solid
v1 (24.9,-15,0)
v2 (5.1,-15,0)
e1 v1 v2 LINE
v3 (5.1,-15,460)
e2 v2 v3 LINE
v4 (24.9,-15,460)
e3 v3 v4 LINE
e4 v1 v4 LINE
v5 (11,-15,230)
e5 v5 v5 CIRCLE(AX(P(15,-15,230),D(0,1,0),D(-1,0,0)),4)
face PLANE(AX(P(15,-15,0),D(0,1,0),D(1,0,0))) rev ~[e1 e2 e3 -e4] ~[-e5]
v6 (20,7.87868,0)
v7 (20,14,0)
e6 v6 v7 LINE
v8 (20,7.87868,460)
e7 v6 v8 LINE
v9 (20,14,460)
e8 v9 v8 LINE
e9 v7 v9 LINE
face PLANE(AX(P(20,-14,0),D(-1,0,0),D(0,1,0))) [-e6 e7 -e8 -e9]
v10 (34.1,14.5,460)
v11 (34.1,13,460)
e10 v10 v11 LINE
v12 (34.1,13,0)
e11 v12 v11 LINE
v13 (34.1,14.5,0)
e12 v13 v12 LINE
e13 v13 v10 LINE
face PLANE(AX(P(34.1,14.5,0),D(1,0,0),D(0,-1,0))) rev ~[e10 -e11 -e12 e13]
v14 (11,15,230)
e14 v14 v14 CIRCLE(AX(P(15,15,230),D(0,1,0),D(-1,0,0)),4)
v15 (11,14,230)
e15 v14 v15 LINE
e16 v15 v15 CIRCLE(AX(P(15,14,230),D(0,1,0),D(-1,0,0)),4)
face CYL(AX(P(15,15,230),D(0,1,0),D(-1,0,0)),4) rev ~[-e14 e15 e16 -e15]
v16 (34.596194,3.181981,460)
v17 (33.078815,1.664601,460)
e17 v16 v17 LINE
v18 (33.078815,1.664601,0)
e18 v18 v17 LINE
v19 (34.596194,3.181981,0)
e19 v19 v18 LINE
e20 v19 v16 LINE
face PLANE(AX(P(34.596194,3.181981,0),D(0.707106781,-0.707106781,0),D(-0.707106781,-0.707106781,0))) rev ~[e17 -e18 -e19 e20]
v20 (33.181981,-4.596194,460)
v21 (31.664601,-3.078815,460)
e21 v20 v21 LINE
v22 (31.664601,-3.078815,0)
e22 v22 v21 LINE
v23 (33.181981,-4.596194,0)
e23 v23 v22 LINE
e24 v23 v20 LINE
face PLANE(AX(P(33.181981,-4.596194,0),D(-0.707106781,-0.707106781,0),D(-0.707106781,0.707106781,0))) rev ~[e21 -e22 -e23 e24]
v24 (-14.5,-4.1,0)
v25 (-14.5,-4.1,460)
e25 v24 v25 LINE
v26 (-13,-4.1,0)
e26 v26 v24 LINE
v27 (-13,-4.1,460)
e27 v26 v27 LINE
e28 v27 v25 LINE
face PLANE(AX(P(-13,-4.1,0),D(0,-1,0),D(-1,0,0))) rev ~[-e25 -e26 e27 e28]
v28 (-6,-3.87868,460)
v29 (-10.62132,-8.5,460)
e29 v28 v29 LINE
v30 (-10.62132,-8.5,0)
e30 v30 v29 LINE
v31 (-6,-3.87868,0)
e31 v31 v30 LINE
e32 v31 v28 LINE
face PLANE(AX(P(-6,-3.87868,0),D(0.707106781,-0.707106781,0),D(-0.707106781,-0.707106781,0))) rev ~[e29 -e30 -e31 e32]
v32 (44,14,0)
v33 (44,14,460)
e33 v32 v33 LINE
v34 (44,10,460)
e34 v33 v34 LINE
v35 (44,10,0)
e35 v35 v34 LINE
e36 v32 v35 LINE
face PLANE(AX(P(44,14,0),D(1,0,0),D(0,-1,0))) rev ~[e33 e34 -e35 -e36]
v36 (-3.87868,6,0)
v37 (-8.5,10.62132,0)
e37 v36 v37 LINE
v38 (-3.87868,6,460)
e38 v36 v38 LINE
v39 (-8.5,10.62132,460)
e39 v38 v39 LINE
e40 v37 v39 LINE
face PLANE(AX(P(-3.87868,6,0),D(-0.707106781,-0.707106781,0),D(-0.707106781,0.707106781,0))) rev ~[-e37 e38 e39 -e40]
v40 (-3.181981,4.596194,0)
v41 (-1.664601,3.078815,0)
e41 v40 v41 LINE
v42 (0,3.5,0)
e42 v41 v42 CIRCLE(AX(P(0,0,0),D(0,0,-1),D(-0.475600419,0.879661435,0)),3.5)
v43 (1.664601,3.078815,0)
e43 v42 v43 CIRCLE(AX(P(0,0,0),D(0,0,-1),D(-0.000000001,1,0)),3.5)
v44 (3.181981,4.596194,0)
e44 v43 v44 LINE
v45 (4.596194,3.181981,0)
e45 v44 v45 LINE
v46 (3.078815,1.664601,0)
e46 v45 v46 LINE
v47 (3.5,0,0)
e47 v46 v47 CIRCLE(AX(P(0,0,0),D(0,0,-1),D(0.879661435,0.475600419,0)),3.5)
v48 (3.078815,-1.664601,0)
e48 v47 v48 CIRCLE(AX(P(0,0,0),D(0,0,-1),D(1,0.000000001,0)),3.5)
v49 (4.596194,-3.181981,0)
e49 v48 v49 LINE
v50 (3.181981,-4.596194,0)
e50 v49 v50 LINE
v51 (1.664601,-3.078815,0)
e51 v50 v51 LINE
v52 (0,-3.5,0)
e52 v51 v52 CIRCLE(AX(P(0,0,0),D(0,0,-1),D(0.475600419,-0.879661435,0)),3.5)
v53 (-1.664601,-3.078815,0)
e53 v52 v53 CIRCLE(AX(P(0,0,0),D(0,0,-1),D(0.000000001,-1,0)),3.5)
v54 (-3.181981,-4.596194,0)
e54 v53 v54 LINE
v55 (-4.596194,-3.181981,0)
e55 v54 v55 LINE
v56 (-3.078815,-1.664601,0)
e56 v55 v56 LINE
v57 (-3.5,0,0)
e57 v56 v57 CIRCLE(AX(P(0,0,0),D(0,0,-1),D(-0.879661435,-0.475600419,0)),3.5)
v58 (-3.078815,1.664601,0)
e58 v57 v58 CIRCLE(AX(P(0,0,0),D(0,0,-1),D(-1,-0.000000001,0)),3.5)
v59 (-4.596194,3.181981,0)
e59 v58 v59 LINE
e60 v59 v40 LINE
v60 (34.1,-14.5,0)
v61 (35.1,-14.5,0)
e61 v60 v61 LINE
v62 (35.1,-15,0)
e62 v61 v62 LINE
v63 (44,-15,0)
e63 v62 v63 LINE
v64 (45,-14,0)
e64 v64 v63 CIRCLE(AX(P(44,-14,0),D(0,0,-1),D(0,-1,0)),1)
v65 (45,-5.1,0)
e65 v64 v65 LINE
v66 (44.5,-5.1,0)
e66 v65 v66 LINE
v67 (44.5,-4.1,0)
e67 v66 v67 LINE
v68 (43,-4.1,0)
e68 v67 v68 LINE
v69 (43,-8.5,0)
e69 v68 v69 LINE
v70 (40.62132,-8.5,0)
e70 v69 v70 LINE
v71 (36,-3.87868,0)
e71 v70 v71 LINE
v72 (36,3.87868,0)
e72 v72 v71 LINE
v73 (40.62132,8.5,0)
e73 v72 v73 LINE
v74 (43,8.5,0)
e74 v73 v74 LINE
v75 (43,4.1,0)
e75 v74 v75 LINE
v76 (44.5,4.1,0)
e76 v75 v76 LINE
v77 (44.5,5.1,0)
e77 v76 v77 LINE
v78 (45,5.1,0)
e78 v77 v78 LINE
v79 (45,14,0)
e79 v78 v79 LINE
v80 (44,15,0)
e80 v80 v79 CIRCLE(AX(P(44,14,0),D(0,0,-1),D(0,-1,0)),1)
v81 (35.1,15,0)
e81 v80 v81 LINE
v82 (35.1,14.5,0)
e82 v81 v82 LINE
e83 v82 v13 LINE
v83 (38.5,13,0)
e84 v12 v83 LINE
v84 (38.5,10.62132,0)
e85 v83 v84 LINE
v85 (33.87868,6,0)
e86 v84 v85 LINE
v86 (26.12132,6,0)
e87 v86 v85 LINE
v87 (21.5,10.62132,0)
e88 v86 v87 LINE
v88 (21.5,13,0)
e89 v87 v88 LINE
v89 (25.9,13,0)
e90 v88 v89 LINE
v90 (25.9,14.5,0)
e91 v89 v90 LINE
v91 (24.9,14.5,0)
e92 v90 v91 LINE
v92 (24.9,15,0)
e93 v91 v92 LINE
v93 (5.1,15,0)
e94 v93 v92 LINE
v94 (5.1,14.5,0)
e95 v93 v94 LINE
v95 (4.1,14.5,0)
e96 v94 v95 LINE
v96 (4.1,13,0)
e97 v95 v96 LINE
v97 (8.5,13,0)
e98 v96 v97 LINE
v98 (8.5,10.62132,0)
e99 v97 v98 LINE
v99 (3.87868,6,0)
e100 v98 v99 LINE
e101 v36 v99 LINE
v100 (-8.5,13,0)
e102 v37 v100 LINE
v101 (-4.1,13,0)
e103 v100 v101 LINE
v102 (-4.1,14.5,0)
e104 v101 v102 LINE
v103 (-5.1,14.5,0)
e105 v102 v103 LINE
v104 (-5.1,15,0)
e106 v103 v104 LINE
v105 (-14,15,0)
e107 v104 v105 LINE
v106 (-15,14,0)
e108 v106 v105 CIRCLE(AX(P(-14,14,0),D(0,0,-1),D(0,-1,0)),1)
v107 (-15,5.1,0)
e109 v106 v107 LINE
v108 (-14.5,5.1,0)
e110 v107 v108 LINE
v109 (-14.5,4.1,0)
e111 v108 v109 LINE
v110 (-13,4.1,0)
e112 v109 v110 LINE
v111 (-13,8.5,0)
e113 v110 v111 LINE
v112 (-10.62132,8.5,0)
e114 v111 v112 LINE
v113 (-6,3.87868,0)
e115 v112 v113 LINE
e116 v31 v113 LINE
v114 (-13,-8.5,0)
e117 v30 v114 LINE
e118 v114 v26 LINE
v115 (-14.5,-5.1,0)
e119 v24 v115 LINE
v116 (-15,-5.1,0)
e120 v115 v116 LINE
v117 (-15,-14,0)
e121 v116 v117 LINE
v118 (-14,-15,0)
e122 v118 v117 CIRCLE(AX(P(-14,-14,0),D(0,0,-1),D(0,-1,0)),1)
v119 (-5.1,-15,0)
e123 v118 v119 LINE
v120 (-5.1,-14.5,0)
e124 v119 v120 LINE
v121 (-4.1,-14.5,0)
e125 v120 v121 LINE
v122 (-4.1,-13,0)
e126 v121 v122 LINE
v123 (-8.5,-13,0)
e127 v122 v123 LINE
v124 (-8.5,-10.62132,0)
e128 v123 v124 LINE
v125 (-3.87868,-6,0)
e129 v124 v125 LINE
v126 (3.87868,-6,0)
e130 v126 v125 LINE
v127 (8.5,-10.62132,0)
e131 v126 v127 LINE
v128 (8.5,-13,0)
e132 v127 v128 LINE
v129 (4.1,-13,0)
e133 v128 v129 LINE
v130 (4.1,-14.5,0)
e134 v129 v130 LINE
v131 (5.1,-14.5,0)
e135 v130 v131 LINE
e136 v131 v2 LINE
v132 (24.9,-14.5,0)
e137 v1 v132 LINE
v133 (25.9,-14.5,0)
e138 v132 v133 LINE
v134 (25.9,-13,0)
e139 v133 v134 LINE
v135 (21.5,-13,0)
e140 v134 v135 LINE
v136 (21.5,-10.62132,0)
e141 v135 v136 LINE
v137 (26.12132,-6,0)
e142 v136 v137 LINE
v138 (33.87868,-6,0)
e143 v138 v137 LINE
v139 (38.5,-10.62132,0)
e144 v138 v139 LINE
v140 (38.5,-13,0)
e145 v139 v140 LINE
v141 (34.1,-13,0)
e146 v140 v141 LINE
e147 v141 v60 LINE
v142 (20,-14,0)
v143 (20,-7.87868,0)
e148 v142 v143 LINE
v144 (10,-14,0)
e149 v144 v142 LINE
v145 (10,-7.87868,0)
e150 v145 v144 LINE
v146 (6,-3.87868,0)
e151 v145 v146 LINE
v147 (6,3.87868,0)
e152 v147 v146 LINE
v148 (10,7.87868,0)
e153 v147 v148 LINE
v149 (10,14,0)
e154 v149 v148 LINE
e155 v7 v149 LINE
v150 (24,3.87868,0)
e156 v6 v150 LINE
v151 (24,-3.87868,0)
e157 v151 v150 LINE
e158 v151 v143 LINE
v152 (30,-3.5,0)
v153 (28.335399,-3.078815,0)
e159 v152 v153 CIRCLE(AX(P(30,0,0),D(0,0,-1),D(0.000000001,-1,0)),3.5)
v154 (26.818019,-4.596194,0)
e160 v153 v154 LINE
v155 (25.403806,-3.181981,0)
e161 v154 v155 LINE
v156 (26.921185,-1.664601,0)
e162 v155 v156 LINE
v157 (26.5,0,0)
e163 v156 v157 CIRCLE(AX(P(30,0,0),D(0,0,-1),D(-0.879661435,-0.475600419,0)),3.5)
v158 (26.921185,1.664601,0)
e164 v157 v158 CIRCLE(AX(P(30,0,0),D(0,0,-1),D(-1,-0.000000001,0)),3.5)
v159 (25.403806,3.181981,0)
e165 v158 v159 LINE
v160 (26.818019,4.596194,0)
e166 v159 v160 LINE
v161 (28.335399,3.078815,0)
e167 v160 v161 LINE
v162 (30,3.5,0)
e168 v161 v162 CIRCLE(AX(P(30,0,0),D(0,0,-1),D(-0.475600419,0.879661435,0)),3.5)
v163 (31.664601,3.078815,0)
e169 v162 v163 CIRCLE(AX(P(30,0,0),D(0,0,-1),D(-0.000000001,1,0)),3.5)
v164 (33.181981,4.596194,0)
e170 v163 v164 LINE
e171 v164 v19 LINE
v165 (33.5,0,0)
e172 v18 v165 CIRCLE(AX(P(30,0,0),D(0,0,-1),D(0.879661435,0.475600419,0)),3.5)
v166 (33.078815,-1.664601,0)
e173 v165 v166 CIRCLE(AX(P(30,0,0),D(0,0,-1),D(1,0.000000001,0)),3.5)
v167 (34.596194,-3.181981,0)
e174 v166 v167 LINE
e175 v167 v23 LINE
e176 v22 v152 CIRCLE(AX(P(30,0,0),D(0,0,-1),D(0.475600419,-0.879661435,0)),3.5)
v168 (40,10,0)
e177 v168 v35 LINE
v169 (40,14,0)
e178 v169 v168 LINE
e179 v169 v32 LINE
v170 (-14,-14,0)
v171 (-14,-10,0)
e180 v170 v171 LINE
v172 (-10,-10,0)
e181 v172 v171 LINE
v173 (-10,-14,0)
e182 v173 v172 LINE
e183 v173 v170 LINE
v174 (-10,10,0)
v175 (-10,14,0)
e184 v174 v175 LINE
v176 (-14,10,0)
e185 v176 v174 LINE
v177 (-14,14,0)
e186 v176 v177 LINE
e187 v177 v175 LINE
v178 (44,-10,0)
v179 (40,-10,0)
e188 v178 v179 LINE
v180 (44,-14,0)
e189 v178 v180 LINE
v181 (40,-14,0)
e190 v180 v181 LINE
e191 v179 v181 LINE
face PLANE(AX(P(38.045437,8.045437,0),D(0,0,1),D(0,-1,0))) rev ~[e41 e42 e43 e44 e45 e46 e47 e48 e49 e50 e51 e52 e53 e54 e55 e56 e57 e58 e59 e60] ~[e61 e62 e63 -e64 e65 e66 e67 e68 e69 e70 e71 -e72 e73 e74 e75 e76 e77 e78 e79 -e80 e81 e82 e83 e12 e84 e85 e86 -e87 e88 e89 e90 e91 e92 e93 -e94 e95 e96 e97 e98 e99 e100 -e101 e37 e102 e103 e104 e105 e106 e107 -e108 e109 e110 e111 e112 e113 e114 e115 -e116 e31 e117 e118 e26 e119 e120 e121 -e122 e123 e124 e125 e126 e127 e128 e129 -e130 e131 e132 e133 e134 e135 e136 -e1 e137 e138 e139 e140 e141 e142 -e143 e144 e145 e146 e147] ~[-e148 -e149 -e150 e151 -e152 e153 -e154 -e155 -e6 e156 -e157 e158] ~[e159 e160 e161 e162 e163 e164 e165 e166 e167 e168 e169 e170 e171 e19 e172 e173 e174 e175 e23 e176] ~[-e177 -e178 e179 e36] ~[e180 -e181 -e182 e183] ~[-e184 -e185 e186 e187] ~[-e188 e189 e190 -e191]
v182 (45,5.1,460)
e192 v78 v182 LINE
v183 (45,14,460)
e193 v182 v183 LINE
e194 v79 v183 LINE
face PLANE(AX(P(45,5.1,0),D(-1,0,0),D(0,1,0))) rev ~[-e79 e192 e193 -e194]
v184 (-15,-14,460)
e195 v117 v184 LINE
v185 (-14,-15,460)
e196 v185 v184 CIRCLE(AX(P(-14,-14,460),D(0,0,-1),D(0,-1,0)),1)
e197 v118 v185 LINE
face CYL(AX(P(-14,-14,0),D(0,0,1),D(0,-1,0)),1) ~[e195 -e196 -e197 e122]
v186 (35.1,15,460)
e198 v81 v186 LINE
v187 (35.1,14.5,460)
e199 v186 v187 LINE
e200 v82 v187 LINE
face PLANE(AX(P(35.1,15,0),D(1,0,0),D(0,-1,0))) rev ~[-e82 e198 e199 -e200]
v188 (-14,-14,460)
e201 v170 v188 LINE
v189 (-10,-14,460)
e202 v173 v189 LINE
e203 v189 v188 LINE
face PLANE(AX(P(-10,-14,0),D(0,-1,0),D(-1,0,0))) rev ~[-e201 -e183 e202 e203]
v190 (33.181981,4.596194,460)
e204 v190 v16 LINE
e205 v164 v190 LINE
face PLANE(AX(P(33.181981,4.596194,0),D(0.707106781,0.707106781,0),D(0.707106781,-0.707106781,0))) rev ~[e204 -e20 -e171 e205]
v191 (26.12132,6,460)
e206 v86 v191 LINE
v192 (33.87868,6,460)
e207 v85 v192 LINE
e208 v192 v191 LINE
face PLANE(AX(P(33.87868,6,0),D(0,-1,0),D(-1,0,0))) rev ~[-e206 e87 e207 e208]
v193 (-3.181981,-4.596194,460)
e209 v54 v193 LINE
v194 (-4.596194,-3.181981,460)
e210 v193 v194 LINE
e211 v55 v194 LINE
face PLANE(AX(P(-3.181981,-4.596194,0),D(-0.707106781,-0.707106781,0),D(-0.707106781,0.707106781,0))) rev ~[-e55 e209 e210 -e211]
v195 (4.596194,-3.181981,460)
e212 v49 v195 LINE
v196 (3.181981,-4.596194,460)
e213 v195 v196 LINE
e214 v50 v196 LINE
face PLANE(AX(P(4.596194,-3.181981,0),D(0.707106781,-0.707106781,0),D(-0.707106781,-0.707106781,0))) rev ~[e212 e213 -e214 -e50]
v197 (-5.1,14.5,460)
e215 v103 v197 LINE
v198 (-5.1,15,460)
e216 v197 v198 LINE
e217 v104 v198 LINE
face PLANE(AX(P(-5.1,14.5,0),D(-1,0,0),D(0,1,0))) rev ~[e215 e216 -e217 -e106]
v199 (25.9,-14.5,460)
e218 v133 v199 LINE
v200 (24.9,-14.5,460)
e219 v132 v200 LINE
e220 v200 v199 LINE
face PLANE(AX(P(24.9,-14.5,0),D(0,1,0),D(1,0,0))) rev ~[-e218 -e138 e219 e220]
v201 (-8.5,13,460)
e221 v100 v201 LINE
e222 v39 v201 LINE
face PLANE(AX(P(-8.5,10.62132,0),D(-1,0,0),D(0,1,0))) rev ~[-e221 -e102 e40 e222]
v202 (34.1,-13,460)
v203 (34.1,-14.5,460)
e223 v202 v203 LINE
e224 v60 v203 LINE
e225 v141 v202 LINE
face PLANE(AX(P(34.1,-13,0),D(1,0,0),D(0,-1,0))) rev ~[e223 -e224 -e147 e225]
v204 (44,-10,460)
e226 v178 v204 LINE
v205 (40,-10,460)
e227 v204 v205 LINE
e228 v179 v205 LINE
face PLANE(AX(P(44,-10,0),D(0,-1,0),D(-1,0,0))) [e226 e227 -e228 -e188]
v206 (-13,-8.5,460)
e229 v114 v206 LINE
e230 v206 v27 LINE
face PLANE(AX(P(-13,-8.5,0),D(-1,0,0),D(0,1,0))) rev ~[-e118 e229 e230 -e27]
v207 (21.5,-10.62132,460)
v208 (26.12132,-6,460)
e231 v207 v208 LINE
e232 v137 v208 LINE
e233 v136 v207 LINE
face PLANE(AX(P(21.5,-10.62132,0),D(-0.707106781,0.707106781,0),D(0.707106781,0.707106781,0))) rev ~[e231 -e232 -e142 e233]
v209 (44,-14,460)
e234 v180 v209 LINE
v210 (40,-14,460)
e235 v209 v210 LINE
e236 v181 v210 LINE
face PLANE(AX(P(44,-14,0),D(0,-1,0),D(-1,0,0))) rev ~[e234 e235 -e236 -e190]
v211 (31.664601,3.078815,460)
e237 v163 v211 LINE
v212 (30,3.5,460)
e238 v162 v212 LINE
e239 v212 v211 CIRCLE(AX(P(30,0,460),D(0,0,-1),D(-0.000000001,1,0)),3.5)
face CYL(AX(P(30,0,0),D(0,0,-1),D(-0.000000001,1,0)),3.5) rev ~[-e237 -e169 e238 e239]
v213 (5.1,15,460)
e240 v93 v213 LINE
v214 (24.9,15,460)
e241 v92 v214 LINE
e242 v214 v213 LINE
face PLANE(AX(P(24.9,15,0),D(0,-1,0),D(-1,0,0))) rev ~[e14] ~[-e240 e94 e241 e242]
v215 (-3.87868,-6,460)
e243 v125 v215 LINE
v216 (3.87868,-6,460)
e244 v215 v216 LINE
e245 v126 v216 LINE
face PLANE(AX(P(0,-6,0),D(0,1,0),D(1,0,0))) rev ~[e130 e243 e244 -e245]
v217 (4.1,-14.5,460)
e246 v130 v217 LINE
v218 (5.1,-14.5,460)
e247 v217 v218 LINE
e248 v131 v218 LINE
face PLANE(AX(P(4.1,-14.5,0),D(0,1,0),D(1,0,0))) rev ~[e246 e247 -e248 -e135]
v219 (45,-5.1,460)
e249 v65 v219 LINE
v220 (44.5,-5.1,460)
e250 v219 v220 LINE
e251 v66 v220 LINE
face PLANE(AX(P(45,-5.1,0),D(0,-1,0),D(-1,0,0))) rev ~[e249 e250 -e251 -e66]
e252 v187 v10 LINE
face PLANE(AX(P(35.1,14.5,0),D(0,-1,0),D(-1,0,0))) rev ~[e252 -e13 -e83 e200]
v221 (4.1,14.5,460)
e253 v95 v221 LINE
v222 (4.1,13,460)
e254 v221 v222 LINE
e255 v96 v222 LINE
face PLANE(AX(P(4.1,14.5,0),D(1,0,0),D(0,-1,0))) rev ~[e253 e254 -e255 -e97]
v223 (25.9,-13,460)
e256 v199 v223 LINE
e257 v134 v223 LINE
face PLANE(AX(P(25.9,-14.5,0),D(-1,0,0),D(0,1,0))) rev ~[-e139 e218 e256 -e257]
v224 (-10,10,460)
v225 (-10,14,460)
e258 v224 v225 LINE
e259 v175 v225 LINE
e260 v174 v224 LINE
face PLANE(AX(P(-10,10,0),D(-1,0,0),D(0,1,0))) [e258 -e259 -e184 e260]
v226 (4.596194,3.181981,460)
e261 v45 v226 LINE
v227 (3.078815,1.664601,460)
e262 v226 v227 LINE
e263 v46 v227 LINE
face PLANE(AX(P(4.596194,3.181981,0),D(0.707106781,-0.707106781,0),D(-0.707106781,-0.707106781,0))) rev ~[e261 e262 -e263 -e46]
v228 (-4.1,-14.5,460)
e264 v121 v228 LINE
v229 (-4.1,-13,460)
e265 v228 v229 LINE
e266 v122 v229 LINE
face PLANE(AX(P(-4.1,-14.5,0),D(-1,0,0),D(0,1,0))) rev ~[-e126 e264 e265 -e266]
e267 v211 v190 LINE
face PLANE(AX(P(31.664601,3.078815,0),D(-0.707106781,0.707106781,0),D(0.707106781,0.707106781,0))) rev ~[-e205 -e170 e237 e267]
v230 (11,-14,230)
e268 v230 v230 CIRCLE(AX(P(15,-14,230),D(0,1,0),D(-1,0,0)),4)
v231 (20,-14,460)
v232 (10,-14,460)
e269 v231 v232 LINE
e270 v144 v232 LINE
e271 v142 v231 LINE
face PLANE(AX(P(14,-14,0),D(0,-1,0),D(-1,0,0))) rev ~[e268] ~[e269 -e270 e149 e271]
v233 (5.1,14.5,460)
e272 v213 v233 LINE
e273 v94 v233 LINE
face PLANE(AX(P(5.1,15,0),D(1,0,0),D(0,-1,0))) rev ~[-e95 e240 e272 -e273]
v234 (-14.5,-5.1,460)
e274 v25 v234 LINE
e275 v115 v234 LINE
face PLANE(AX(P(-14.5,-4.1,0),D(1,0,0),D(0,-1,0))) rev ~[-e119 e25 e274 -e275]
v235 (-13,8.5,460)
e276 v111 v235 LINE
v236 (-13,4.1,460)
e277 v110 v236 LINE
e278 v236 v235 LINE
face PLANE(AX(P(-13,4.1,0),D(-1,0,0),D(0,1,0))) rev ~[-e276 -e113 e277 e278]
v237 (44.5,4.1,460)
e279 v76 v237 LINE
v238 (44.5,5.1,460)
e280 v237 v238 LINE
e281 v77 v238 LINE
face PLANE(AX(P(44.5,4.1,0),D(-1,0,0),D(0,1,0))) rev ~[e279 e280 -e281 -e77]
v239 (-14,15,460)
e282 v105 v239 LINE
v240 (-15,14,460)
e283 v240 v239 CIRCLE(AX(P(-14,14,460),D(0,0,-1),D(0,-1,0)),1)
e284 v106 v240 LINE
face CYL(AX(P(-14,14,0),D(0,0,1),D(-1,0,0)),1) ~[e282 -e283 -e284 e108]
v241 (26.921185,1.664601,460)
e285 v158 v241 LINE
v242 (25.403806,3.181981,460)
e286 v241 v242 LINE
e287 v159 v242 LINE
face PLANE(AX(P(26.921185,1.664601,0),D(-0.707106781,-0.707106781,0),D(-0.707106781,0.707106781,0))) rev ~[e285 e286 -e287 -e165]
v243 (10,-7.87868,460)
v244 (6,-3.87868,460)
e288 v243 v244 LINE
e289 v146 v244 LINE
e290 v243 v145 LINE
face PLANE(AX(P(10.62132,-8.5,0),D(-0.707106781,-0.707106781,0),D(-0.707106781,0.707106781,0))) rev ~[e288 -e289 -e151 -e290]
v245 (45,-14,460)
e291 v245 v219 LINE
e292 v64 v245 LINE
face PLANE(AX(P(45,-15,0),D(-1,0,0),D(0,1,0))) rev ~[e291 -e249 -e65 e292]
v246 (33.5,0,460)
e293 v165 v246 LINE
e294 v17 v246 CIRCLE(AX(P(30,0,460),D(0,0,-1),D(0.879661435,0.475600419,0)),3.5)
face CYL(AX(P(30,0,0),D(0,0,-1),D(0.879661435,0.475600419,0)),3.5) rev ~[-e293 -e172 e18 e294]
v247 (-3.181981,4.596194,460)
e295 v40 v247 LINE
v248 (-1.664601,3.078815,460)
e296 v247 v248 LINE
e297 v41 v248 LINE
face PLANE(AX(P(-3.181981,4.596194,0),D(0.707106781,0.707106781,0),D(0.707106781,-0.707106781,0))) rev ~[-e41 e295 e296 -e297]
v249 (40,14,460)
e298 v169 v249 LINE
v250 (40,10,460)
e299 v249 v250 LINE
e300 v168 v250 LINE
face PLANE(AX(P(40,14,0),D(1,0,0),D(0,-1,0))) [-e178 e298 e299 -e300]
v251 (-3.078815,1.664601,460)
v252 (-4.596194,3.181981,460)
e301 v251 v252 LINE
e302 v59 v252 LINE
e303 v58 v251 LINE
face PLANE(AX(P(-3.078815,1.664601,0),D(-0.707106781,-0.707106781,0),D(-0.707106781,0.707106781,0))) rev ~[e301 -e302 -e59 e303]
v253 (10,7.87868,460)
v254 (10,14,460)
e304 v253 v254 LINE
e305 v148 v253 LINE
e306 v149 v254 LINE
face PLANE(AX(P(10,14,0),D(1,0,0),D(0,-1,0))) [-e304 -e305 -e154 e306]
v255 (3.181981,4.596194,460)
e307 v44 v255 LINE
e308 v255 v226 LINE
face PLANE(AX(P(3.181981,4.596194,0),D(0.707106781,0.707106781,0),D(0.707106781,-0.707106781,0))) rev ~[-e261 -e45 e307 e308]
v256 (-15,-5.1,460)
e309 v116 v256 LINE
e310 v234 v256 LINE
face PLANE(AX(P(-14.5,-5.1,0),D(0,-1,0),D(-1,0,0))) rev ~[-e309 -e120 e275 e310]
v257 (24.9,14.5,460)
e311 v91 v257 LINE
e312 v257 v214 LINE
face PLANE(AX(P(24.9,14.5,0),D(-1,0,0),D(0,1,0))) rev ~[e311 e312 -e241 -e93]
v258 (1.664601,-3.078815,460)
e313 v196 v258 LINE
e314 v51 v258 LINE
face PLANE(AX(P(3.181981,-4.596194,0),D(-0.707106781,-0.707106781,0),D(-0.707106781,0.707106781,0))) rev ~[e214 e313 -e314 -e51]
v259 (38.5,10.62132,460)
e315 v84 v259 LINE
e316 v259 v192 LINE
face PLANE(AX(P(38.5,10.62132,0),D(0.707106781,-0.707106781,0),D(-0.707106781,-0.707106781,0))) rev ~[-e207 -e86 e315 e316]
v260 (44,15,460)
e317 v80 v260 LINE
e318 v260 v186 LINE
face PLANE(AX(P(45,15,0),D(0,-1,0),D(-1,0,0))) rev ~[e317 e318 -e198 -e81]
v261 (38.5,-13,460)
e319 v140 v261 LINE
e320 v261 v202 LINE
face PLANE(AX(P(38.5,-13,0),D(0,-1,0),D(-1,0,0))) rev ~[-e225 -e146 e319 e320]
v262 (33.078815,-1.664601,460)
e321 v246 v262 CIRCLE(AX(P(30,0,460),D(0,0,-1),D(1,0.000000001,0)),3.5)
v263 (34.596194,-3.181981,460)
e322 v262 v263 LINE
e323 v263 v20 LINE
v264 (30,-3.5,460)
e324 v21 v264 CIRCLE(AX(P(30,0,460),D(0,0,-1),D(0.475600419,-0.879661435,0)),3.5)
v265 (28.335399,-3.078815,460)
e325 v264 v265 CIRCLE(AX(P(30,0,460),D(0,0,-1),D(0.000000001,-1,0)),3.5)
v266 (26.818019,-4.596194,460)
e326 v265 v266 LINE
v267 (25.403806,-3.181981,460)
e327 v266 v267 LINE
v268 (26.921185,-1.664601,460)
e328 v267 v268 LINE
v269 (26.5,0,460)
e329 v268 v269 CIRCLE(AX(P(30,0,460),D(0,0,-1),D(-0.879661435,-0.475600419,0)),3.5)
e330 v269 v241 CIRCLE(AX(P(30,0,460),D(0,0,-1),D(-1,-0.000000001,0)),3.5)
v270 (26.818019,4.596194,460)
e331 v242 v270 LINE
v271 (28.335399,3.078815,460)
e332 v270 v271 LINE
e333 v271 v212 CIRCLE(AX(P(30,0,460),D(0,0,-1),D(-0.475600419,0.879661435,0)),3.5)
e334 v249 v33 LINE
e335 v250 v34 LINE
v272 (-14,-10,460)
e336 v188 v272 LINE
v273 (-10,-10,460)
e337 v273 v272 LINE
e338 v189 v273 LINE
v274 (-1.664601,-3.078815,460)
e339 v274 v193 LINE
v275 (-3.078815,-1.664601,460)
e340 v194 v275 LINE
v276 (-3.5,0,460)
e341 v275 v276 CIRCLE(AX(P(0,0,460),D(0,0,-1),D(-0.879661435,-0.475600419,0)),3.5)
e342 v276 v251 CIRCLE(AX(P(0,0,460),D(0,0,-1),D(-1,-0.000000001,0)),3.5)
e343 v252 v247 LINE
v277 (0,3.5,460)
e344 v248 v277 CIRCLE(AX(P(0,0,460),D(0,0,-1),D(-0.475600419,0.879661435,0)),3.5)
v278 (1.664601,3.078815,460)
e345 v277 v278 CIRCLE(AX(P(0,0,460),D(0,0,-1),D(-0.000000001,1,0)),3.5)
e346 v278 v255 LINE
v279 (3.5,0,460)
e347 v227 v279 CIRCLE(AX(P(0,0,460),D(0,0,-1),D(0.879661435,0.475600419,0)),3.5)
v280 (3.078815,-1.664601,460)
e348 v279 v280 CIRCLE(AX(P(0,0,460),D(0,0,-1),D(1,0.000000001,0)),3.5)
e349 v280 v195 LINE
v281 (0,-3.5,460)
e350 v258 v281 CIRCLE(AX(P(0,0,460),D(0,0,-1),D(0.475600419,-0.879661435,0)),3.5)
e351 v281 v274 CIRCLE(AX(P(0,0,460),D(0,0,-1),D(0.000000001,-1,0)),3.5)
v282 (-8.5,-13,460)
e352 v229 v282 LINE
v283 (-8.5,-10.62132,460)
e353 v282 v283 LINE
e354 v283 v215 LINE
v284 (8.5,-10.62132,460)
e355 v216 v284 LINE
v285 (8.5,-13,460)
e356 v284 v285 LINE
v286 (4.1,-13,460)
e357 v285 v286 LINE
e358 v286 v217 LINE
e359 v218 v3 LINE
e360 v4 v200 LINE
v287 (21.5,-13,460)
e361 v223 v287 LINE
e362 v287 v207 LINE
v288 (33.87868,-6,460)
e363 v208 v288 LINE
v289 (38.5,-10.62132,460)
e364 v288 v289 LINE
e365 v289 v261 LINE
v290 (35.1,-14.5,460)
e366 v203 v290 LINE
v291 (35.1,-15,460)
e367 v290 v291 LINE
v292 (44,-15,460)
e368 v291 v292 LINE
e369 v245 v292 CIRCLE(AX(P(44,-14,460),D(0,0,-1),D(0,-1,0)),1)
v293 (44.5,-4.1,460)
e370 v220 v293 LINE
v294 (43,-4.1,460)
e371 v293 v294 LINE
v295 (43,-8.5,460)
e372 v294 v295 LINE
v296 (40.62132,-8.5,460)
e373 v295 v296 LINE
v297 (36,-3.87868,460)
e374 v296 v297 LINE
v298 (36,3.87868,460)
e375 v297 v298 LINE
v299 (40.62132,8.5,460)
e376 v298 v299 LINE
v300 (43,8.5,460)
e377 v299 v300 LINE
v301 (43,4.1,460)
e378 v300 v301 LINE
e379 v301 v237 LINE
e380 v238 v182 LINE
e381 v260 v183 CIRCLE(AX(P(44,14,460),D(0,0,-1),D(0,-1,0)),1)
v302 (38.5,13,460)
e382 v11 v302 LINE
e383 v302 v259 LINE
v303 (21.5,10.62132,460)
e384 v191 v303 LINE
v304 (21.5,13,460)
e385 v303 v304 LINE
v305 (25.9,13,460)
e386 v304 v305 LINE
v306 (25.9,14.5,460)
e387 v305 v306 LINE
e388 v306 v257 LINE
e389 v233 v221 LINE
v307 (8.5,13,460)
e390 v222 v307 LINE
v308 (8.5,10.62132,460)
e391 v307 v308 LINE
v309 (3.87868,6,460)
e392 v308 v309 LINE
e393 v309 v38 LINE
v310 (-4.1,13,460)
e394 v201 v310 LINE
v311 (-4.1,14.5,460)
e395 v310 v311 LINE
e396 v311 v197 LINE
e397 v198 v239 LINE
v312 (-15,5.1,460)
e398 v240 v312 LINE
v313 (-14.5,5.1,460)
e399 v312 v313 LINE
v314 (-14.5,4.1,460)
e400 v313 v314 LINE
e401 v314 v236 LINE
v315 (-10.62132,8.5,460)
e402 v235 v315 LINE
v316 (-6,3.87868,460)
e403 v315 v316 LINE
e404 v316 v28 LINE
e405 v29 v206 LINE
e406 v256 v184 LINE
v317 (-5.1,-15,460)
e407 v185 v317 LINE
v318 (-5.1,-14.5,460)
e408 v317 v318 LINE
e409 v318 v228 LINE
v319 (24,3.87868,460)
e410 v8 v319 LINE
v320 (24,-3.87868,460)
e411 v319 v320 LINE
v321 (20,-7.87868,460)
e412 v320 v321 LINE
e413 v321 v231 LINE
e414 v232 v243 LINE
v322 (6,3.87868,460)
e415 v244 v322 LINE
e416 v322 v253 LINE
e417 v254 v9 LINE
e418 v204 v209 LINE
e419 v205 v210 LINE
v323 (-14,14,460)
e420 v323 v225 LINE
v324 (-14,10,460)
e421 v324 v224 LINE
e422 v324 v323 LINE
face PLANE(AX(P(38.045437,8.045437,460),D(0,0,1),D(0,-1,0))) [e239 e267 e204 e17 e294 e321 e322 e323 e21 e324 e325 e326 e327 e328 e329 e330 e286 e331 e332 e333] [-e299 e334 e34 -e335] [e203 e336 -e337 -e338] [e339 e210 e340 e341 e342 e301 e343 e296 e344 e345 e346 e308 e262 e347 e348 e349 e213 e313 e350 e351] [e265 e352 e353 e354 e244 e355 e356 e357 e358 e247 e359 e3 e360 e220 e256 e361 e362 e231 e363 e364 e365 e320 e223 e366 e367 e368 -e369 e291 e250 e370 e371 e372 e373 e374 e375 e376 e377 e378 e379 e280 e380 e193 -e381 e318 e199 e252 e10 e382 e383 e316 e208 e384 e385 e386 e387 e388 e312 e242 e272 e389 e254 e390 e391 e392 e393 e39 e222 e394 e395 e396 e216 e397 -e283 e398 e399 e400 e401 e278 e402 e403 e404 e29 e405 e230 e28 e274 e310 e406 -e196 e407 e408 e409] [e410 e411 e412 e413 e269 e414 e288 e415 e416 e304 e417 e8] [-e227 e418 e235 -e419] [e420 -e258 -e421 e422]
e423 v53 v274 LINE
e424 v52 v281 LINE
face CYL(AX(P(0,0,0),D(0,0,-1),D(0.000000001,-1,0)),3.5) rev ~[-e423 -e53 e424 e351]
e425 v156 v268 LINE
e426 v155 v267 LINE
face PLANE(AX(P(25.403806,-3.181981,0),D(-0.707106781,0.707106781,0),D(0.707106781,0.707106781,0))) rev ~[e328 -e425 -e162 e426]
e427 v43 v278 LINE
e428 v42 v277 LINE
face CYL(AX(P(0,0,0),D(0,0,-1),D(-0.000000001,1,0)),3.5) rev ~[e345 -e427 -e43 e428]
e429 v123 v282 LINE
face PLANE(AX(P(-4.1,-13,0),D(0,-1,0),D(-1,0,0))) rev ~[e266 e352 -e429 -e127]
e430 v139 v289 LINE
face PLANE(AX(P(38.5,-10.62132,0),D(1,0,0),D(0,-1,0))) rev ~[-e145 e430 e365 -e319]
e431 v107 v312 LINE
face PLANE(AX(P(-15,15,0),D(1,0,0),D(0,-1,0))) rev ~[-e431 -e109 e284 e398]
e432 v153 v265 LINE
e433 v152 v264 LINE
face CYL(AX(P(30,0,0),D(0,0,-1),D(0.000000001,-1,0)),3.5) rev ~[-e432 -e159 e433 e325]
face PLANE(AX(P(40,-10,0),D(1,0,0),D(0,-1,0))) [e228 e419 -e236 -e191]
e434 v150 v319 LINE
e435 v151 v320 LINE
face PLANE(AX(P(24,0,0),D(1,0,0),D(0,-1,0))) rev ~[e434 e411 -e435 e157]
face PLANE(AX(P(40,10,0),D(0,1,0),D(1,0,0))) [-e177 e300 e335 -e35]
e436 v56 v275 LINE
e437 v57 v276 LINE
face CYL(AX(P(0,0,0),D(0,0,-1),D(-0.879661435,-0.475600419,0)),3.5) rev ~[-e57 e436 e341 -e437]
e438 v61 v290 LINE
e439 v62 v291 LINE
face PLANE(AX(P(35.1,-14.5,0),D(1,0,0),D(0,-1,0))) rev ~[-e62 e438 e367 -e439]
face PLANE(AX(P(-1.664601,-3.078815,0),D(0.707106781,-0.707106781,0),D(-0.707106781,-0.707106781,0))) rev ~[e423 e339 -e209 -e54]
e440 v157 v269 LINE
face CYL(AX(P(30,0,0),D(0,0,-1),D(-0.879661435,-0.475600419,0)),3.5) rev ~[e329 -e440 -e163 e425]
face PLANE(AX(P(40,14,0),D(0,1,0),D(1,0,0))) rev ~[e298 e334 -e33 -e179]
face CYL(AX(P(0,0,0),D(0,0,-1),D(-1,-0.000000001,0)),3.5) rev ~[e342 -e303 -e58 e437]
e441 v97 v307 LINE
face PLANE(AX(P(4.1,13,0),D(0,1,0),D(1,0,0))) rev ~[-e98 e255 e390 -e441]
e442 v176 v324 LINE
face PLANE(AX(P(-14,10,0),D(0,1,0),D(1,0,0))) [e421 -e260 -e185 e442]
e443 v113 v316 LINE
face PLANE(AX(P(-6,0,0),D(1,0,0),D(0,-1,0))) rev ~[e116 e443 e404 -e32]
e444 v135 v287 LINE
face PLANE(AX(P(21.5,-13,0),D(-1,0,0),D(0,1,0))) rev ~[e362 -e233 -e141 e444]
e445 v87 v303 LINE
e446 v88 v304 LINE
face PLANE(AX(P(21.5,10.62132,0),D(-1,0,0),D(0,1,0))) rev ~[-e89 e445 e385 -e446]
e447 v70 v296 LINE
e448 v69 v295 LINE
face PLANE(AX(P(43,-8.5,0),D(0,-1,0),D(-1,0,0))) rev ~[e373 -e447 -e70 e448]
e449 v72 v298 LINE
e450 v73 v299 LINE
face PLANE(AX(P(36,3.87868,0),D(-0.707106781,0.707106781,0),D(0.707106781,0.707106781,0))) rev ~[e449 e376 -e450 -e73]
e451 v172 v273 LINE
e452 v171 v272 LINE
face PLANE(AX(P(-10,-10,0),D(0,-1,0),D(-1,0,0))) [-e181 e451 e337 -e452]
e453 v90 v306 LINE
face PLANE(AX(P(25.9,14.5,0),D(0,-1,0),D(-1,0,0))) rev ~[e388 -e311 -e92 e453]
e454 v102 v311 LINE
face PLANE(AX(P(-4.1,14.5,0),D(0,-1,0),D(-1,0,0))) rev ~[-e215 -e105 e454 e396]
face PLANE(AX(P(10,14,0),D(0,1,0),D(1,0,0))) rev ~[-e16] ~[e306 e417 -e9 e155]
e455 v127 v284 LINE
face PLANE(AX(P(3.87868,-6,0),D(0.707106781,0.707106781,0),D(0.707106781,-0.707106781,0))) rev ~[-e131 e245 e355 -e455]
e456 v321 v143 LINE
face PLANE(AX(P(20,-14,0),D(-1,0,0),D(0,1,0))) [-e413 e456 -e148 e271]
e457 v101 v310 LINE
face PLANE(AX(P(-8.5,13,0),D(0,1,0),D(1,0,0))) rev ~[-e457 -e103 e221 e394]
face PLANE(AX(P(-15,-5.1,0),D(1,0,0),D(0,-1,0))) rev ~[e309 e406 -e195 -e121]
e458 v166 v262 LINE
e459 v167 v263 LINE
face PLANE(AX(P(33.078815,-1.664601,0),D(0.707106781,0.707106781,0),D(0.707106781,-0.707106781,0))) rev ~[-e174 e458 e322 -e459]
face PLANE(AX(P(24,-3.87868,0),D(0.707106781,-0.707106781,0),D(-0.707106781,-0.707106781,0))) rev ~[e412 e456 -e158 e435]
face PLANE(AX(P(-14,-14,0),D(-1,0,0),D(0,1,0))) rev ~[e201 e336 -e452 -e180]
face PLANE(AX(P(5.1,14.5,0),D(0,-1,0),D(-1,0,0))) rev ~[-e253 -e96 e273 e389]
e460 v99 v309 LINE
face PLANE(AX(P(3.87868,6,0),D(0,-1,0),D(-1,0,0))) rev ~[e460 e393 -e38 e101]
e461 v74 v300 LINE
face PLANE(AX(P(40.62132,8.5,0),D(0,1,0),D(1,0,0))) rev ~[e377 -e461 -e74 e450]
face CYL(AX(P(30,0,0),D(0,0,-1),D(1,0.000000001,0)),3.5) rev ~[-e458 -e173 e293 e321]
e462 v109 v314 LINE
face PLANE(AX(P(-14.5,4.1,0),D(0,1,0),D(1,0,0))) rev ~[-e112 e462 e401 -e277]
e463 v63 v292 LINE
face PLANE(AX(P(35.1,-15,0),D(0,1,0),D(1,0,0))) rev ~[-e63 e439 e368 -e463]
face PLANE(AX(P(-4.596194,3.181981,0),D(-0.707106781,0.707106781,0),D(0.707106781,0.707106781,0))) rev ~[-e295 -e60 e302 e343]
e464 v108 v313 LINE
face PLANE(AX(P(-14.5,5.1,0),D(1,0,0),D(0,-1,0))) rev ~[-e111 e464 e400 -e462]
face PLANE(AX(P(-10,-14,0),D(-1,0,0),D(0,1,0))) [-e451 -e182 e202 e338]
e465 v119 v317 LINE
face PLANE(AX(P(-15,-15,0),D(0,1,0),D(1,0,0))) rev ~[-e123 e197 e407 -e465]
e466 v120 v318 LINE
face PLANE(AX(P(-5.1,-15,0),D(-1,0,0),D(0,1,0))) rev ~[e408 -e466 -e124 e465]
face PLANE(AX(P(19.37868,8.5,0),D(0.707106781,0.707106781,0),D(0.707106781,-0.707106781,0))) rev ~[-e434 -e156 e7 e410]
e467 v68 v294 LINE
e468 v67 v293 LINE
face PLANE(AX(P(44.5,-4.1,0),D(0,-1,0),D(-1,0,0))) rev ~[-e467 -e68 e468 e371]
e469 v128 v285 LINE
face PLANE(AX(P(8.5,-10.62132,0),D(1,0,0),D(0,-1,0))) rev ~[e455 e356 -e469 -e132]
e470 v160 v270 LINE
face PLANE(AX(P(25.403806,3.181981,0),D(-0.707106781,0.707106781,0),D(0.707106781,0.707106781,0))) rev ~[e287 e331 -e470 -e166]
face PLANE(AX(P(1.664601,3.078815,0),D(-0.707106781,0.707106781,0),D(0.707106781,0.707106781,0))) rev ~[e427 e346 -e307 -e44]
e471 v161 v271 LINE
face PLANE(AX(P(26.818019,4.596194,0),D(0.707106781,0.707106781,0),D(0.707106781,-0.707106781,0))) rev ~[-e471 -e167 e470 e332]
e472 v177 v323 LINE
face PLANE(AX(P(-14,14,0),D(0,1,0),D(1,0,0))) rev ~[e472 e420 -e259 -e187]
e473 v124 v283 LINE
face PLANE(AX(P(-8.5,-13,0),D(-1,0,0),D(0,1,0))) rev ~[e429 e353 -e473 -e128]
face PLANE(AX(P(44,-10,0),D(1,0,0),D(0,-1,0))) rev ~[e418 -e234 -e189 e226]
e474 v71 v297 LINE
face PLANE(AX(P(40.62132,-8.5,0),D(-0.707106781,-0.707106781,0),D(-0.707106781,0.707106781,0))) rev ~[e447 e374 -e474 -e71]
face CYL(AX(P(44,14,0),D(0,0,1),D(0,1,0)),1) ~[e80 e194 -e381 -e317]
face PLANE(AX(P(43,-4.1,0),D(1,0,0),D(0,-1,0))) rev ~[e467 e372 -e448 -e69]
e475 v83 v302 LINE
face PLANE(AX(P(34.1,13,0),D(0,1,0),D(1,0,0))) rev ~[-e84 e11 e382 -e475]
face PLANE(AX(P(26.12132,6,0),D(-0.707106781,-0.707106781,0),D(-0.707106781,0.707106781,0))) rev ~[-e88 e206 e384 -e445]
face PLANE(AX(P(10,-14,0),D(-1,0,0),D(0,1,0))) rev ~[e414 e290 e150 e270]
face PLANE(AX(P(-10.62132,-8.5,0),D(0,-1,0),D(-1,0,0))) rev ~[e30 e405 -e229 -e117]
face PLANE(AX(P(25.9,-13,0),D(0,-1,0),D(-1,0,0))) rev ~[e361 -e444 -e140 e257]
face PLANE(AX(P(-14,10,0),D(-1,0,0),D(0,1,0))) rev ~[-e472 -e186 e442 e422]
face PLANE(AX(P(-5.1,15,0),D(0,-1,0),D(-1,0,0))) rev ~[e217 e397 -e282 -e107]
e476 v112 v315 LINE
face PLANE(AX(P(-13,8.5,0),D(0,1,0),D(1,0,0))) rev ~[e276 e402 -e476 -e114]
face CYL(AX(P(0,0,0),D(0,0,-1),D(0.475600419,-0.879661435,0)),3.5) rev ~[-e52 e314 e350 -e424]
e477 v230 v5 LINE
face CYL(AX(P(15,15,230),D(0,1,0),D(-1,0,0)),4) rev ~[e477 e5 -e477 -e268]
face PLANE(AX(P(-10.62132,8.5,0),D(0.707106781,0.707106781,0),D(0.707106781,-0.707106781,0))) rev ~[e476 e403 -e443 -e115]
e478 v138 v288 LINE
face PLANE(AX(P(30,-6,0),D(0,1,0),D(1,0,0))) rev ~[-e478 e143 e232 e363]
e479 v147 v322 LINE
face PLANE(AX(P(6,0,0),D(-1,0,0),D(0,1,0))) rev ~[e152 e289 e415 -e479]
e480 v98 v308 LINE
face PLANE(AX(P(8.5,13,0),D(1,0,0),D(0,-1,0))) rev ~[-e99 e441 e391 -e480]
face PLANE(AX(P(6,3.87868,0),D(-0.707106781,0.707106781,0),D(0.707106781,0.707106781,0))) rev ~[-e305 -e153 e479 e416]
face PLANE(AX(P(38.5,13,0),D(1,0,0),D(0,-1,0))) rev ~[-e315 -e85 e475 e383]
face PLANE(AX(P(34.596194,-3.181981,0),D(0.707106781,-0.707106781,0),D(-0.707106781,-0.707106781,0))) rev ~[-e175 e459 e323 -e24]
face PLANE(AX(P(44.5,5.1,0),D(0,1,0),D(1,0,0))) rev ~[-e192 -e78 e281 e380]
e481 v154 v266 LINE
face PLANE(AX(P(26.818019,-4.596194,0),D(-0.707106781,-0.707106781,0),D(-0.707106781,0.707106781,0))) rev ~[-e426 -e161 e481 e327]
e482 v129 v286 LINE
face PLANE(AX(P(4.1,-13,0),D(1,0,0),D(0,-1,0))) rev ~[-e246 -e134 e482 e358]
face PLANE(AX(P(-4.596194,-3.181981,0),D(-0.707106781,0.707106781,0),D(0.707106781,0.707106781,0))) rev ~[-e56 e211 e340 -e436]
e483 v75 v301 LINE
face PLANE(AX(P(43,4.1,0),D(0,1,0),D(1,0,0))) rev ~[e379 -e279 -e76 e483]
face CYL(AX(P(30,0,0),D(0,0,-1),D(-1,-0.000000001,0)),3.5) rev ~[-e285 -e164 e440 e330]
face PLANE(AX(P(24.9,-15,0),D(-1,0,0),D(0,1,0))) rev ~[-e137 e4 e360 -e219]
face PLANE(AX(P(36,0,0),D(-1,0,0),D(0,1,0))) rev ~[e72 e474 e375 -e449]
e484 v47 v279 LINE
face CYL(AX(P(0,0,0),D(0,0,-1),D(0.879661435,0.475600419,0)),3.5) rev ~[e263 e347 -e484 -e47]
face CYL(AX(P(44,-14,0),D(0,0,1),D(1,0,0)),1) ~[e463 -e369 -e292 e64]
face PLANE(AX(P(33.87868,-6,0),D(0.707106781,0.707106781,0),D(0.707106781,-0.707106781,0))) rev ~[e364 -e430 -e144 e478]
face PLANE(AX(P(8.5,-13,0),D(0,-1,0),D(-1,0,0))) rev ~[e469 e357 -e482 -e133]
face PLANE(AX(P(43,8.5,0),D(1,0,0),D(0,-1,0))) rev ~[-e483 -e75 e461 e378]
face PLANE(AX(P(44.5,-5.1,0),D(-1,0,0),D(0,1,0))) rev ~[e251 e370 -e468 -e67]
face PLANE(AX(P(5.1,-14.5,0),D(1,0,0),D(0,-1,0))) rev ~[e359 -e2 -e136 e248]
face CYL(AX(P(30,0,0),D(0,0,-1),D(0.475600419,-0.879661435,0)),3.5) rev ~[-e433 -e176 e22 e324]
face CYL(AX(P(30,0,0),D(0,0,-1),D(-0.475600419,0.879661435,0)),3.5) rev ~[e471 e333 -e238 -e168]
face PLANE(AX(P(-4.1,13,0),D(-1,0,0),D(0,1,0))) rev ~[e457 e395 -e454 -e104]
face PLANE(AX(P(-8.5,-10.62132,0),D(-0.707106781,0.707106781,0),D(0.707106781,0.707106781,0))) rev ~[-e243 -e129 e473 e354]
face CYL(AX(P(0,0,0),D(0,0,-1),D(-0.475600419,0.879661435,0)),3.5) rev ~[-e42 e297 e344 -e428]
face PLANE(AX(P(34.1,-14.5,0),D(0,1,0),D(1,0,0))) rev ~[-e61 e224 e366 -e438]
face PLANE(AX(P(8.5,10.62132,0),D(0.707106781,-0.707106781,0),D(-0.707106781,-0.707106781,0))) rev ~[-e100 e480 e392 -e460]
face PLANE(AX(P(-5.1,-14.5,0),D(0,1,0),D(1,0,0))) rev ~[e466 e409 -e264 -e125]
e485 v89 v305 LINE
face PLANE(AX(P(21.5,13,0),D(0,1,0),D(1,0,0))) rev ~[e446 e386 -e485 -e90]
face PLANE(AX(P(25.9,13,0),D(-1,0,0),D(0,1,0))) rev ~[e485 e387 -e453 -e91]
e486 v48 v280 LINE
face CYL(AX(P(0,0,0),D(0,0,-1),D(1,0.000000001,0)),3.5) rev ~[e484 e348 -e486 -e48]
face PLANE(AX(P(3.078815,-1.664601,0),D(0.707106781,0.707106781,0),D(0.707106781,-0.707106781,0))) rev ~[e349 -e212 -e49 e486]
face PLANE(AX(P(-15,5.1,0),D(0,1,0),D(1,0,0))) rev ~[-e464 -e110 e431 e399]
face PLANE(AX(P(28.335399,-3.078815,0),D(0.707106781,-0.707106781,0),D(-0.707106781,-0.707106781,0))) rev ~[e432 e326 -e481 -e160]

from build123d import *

# Parameters (mm, degrees)
ESBO_O1_W                      = 4
ESBO_O1_H                      = 4
RESSALTO_EXTRUS_O1_DEPTH       = 460
PADR_OCIRCULAR1_COUNT          = 4
PADR_O_LINEAR1_COUNT           = 2
PADR_O_LINEAR1_PITCH           = 30
PADR_O_LINEAR1_COPY_1_SKETCH_W = 4
PADR_O_LINEAR1_COPY_1_SKETCH_H = 4
PADR_O_LINEAR1_COPY_1_DEPTH    = 460
PADR_O_LINEAR1_COPY_2_SKETCH_W = 4
PADR_O_LINEAR1_COPY_2_SKETCH_H = 4
PADR_O_LINEAR1_COPY_2_DEPTH    = 460
PADR_O_LINEAR1_COPY_3_SKETCH_W = 4
PADR_O_LINEAR1_COPY_3_SKETCH_H = 4
PADR_O_LINEAR1_COPY_3_DEPTH    = 460
ESBO_O4_W                      = 10
ESBO_O4_H                      = 28
CORTE_EXTRUS_O1_DEPTH          = 463.439185191
FILETE1_R                      = 1
ESBO_O5_R                      = 4
CORTE_EXTRUS_O2_DEPTH          = 464.168435885


with BuildPart() as part:
    # Esboço1 → Ressalto-extrusão1 (new body)
    with BuildSketch(Plane.XY):
        with BuildLine():
            ThreePointArc((-1.664601464, 3.078815026), (-0.858529967, 3.393070335), (0, 3.5))
            Line((0, 3.5), (0, 6))
            Line((0, 6), (-3.878679656, 6))
            Line((-3.878679656, 6), (-8.5, 10.621320344))
            Line((-8.5, 10.621320344), (-8.5, 13))
            Line((-8.5, 13), (-4.1, 13))
            Line((-4.1, 13), (-4.1, 14.5))
            Line((-4.1, 14.5), (-5.1, 14.5))
            Line((-5.1, 14.5), (-5.1, 15))
            Line((-5.1, 15), (-15, 15))
            Line((-15, 15), (-15, 5.1))
            Line((-15, 5.1), (-14.5, 5.1))
            Line((-14.5, 5.1), (-14.5, 4.1))
            Line((-14.5, 4.1), (-13, 4.1))
            Line((-13, 4.1), (-13, 8.5))
            Line((-13, 8.5), (-10.621320344, 8.5))
            Line((-10.621320344, 8.5), (-6, 3.878679656))
            Line((-6, 3.878679656), (-6, 0))
            Line((-6, 0), (-3.5, 0))
            ThreePointArc((-3.5, 0), (-3.393070335, 0.858529967), (-3.078815026, 1.664601464))
            Line((-3.078815026, 1.664601464), (-4.596194078, 3.181980515))
            Line((-4.596194078, 3.181980515), (-3.181980515, 4.596194078))
            Line((-3.181980515, 4.596194078), (-1.664601464, 3.078815026))
        make_face()
        with Locations((-12, 12)):
            Rectangle(ESBO_O1_W, ESBO_O1_H, mode=Mode.SUBTRACT)
    ressalto_extrus_o1 = extrude(amount=RESSALTO_EXTRUS_O1_DEPTH)

    # PadrãoCircular1: Ressalto-extrusão1 ×4 about axis
    padr_ocircular1_axis = Axis((0, 0, 0), (0, 0, 1))
    for i in range(1, PADR_OCIRCULAR1_COUNT):
        add(ressalto_extrus_o1.rotate(padr_ocircular1_axis, i * 360 / PADR_OCIRCULAR1_COUNT))

    # Padrão linear1: Ressalto-extrusão1 ×2
    with Locations(*[(i * PADR_O_LINEAR1_PITCH, 0, 0) for i in range(1, PADR_O_LINEAR1_COUNT)]):
        add(ressalto_extrus_o1)

    # Padrão linear1 copy 1 sketch → Padrão linear1 copy 1 (add)
    with BuildSketch(Plane(origin=(30, 0, 0), x_dir=(0, 1, 0), z_dir=(0, 0, 1))):
        with BuildLine():
            ThreePointArc((-1.664601464, 3.078815026), (-0.858529967, 3.393070335), (0, 3.5))
            Line((0, 3.5), (0, 6))
            Line((0, 6), (-3.878679656, 6))
            Line((-3.878679656, 6), (-8.5, 10.621320344))
            Line((-8.5, 10.621320344), (-8.5, 13))
            Line((-8.5, 13), (-4.1, 13))
            Line((-4.1, 13), (-4.1, 14.5))
            Line((-4.1, 14.5), (-5.1, 14.5))
            Line((-5.1, 14.5), (-5.1, 15))
            Line((-5.1, 15), (-15, 15))
            Line((-15, 15), (-15, 5.1))
            Line((-15, 5.1), (-14.5, 5.1))
            Line((-14.5, 5.1), (-14.5, 4.1))
            Line((-14.5, 4.1), (-13, 4.1))
            Line((-13, 4.1), (-13, 8.5))
            Line((-13, 8.5), (-10.621320344, 8.5))
            Line((-10.621320344, 8.5), (-6, 3.878679656))
            Line((-6, 3.878679656), (-6, 0))
            Line((-6, 0), (-3.5, 0))
            ThreePointArc((-3.5, 0), (-3.393070335, 0.858529967), (-3.078815026, 1.664601464))
            Line((-3.078815026, 1.664601464), (-4.596194078, 3.181980515))
            Line((-4.596194078, 3.181980515), (-3.181980515, 4.596194078))
            Line((-3.181980515, 4.596194078), (-1.664601464, 3.078815026))
        make_face()
        with Locations((-12, 12)):
            Rectangle(PADR_O_LINEAR1_COPY_1_SKETCH_W, PADR_O_LINEAR1_COPY_1_SKETCH_H, mode=Mode.SUBTRACT)
    extrude(amount=PADR_O_LINEAR1_COPY_1_DEPTH)

    # Padrão linear1 copy 2 sketch → Padrão linear1 copy 2 (add)
    with BuildSketch(Plane(origin=(30, 0, 0), x_dir=(-1, 0, 0), z_dir=(0, 0, 1))):
        with BuildLine():
            ThreePointArc((-1.664601464, 3.078815026), (-0.858529967, 3.393070335), (0, 3.5))
            Line((0, 3.5), (0, 6))
            Line((0, 6), (-3.878679656, 6))
            Line((-3.878679656, 6), (-8.5, 10.621320344))
            Line((-8.5, 10.621320344), (-8.5, 13))
            Line((-8.5, 13), (-4.1, 13))
            Line((-4.1, 13), (-4.1, 14.5))
            Line((-4.1, 14.5), (-5.1, 14.5))
            Line((-5.1, 14.5), (-5.1, 15))
            Line((-5.1, 15), (-15, 15))
            Line((-15, 15), (-15, 5.1))
            Line((-15, 5.1), (-14.5, 5.1))
            Line((-14.5, 5.1), (-14.5, 4.1))
            Line((-14.5, 4.1), (-13, 4.1))
            Line((-13, 4.1), (-13, 8.5))
            Line((-13, 8.5), (-10.621320344, 8.5))
            Line((-10.621320344, 8.5), (-6, 3.878679656))
            Line((-6, 3.878679656), (-6, 0))
            Line((-6, 0), (-3.5, 0))
            ThreePointArc((-3.5, 0), (-3.393070335, 0.858529967), (-3.078815026, 1.664601464))
            Line((-3.078815026, 1.664601464), (-4.596194078, 3.181980515))
            Line((-4.596194078, 3.181980515), (-3.181980515, 4.596194078))
            Line((-3.181980515, 4.596194078), (-1.664601464, 3.078815026))
        make_face()
        with Locations((-12, 12)):
            Rectangle(PADR_O_LINEAR1_COPY_2_SKETCH_W, PADR_O_LINEAR1_COPY_2_SKETCH_H, mode=Mode.SUBTRACT)
    extrude(amount=PADR_O_LINEAR1_COPY_2_DEPTH)

    # Padrão linear1 copy 3 sketch → Padrão linear1 copy 3 (add)
    with BuildSketch(Plane(origin=(30, 0, 0), x_dir=(0, -1, 0), z_dir=(0, 0, 1))):
        with BuildLine():
            ThreePointArc((-1.664601464, 3.078815026), (-0.858529967, 3.393070335), (0, 3.5))
            Line((0, 3.5), (0, 6))
            Line((0, 6), (-3.878679656, 6))
            Line((-3.878679656, 6), (-8.5, 10.621320344))
            Line((-8.5, 10.621320344), (-8.5, 13))
            Line((-8.5, 13), (-4.1, 13))
            Line((-4.1, 13), (-4.1, 14.5))
            Line((-4.1, 14.5), (-5.1, 14.5))
            Line((-5.1, 14.5), (-5.1, 15))
            Line((-5.1, 15), (-15, 15))
            Line((-15, 15), (-15, 5.1))
            Line((-15, 5.1), (-14.5, 5.1))
            Line((-14.5, 5.1), (-14.5, 4.1))
            Line((-14.5, 4.1), (-13, 4.1))
            Line((-13, 4.1), (-13, 8.5))
            Line((-13, 8.5), (-10.621320344, 8.5))
            Line((-10.621320344, 8.5), (-6, 3.878679656))
            Line((-6, 3.878679656), (-6, 0))
            Line((-6, 0), (-3.5, 0))
            ThreePointArc((-3.5, 0), (-3.393070335, 0.858529967), (-3.078815026, 1.664601464))
            Line((-3.078815026, 1.664601464), (-4.596194078, 3.181980515))
            Line((-4.596194078, 3.181980515), (-3.181980515, 4.596194078))
            Line((-3.181980515, 4.596194078), (-1.664601464, 3.078815026))
        make_face()
        with Locations((-12, 12)):
            Rectangle(PADR_O_LINEAR1_COPY_3_SKETCH_W, PADR_O_LINEAR1_COPY_3_SKETCH_H, mode=Mode.SUBTRACT)
    extrude(amount=PADR_O_LINEAR1_COPY_3_DEPTH)

    # Esboço4 → Corte-extrusão1 (cut, through all)
    with BuildSketch(Plane(origin=(0, 0, 0), x_dir=(-1, 0, 0), z_dir=(0, 0, -1))):
        with Locations((-15, 0)):
            Rectangle(ESBO_O4_W, ESBO_O4_H)
    extrude(amount=-CORTE_EXTRUS_O1_DEPTH, mode=Mode.SUBTRACT)

    # Filete1
    filete1_edges = [part.edges().sort_by_distance(p)[0] for p in [
        (45, -15, 230),
        (45, 15, 230),
        (-15, 15, 230),
        (-15, -15, 230),
    ]]
    fillet(filete1_edges, radius=FILETE1_R)

    # Esboço5 → Corte-extrusão2 (cut, through all)
    with BuildSketch(Plane(origin=(0, 15, 0), x_dir=(1, 0, 0), z_dir=(0, 1, 0))):
        with Locations(Location((15, -230, 0), (0, 0, 180))):
            Circle(ESBO_O5_R)
    extrude(amount=-CORTE_EXTRUS_O2_DEPTH, mode=Mode.SUBTRACT)


solid = part.part
